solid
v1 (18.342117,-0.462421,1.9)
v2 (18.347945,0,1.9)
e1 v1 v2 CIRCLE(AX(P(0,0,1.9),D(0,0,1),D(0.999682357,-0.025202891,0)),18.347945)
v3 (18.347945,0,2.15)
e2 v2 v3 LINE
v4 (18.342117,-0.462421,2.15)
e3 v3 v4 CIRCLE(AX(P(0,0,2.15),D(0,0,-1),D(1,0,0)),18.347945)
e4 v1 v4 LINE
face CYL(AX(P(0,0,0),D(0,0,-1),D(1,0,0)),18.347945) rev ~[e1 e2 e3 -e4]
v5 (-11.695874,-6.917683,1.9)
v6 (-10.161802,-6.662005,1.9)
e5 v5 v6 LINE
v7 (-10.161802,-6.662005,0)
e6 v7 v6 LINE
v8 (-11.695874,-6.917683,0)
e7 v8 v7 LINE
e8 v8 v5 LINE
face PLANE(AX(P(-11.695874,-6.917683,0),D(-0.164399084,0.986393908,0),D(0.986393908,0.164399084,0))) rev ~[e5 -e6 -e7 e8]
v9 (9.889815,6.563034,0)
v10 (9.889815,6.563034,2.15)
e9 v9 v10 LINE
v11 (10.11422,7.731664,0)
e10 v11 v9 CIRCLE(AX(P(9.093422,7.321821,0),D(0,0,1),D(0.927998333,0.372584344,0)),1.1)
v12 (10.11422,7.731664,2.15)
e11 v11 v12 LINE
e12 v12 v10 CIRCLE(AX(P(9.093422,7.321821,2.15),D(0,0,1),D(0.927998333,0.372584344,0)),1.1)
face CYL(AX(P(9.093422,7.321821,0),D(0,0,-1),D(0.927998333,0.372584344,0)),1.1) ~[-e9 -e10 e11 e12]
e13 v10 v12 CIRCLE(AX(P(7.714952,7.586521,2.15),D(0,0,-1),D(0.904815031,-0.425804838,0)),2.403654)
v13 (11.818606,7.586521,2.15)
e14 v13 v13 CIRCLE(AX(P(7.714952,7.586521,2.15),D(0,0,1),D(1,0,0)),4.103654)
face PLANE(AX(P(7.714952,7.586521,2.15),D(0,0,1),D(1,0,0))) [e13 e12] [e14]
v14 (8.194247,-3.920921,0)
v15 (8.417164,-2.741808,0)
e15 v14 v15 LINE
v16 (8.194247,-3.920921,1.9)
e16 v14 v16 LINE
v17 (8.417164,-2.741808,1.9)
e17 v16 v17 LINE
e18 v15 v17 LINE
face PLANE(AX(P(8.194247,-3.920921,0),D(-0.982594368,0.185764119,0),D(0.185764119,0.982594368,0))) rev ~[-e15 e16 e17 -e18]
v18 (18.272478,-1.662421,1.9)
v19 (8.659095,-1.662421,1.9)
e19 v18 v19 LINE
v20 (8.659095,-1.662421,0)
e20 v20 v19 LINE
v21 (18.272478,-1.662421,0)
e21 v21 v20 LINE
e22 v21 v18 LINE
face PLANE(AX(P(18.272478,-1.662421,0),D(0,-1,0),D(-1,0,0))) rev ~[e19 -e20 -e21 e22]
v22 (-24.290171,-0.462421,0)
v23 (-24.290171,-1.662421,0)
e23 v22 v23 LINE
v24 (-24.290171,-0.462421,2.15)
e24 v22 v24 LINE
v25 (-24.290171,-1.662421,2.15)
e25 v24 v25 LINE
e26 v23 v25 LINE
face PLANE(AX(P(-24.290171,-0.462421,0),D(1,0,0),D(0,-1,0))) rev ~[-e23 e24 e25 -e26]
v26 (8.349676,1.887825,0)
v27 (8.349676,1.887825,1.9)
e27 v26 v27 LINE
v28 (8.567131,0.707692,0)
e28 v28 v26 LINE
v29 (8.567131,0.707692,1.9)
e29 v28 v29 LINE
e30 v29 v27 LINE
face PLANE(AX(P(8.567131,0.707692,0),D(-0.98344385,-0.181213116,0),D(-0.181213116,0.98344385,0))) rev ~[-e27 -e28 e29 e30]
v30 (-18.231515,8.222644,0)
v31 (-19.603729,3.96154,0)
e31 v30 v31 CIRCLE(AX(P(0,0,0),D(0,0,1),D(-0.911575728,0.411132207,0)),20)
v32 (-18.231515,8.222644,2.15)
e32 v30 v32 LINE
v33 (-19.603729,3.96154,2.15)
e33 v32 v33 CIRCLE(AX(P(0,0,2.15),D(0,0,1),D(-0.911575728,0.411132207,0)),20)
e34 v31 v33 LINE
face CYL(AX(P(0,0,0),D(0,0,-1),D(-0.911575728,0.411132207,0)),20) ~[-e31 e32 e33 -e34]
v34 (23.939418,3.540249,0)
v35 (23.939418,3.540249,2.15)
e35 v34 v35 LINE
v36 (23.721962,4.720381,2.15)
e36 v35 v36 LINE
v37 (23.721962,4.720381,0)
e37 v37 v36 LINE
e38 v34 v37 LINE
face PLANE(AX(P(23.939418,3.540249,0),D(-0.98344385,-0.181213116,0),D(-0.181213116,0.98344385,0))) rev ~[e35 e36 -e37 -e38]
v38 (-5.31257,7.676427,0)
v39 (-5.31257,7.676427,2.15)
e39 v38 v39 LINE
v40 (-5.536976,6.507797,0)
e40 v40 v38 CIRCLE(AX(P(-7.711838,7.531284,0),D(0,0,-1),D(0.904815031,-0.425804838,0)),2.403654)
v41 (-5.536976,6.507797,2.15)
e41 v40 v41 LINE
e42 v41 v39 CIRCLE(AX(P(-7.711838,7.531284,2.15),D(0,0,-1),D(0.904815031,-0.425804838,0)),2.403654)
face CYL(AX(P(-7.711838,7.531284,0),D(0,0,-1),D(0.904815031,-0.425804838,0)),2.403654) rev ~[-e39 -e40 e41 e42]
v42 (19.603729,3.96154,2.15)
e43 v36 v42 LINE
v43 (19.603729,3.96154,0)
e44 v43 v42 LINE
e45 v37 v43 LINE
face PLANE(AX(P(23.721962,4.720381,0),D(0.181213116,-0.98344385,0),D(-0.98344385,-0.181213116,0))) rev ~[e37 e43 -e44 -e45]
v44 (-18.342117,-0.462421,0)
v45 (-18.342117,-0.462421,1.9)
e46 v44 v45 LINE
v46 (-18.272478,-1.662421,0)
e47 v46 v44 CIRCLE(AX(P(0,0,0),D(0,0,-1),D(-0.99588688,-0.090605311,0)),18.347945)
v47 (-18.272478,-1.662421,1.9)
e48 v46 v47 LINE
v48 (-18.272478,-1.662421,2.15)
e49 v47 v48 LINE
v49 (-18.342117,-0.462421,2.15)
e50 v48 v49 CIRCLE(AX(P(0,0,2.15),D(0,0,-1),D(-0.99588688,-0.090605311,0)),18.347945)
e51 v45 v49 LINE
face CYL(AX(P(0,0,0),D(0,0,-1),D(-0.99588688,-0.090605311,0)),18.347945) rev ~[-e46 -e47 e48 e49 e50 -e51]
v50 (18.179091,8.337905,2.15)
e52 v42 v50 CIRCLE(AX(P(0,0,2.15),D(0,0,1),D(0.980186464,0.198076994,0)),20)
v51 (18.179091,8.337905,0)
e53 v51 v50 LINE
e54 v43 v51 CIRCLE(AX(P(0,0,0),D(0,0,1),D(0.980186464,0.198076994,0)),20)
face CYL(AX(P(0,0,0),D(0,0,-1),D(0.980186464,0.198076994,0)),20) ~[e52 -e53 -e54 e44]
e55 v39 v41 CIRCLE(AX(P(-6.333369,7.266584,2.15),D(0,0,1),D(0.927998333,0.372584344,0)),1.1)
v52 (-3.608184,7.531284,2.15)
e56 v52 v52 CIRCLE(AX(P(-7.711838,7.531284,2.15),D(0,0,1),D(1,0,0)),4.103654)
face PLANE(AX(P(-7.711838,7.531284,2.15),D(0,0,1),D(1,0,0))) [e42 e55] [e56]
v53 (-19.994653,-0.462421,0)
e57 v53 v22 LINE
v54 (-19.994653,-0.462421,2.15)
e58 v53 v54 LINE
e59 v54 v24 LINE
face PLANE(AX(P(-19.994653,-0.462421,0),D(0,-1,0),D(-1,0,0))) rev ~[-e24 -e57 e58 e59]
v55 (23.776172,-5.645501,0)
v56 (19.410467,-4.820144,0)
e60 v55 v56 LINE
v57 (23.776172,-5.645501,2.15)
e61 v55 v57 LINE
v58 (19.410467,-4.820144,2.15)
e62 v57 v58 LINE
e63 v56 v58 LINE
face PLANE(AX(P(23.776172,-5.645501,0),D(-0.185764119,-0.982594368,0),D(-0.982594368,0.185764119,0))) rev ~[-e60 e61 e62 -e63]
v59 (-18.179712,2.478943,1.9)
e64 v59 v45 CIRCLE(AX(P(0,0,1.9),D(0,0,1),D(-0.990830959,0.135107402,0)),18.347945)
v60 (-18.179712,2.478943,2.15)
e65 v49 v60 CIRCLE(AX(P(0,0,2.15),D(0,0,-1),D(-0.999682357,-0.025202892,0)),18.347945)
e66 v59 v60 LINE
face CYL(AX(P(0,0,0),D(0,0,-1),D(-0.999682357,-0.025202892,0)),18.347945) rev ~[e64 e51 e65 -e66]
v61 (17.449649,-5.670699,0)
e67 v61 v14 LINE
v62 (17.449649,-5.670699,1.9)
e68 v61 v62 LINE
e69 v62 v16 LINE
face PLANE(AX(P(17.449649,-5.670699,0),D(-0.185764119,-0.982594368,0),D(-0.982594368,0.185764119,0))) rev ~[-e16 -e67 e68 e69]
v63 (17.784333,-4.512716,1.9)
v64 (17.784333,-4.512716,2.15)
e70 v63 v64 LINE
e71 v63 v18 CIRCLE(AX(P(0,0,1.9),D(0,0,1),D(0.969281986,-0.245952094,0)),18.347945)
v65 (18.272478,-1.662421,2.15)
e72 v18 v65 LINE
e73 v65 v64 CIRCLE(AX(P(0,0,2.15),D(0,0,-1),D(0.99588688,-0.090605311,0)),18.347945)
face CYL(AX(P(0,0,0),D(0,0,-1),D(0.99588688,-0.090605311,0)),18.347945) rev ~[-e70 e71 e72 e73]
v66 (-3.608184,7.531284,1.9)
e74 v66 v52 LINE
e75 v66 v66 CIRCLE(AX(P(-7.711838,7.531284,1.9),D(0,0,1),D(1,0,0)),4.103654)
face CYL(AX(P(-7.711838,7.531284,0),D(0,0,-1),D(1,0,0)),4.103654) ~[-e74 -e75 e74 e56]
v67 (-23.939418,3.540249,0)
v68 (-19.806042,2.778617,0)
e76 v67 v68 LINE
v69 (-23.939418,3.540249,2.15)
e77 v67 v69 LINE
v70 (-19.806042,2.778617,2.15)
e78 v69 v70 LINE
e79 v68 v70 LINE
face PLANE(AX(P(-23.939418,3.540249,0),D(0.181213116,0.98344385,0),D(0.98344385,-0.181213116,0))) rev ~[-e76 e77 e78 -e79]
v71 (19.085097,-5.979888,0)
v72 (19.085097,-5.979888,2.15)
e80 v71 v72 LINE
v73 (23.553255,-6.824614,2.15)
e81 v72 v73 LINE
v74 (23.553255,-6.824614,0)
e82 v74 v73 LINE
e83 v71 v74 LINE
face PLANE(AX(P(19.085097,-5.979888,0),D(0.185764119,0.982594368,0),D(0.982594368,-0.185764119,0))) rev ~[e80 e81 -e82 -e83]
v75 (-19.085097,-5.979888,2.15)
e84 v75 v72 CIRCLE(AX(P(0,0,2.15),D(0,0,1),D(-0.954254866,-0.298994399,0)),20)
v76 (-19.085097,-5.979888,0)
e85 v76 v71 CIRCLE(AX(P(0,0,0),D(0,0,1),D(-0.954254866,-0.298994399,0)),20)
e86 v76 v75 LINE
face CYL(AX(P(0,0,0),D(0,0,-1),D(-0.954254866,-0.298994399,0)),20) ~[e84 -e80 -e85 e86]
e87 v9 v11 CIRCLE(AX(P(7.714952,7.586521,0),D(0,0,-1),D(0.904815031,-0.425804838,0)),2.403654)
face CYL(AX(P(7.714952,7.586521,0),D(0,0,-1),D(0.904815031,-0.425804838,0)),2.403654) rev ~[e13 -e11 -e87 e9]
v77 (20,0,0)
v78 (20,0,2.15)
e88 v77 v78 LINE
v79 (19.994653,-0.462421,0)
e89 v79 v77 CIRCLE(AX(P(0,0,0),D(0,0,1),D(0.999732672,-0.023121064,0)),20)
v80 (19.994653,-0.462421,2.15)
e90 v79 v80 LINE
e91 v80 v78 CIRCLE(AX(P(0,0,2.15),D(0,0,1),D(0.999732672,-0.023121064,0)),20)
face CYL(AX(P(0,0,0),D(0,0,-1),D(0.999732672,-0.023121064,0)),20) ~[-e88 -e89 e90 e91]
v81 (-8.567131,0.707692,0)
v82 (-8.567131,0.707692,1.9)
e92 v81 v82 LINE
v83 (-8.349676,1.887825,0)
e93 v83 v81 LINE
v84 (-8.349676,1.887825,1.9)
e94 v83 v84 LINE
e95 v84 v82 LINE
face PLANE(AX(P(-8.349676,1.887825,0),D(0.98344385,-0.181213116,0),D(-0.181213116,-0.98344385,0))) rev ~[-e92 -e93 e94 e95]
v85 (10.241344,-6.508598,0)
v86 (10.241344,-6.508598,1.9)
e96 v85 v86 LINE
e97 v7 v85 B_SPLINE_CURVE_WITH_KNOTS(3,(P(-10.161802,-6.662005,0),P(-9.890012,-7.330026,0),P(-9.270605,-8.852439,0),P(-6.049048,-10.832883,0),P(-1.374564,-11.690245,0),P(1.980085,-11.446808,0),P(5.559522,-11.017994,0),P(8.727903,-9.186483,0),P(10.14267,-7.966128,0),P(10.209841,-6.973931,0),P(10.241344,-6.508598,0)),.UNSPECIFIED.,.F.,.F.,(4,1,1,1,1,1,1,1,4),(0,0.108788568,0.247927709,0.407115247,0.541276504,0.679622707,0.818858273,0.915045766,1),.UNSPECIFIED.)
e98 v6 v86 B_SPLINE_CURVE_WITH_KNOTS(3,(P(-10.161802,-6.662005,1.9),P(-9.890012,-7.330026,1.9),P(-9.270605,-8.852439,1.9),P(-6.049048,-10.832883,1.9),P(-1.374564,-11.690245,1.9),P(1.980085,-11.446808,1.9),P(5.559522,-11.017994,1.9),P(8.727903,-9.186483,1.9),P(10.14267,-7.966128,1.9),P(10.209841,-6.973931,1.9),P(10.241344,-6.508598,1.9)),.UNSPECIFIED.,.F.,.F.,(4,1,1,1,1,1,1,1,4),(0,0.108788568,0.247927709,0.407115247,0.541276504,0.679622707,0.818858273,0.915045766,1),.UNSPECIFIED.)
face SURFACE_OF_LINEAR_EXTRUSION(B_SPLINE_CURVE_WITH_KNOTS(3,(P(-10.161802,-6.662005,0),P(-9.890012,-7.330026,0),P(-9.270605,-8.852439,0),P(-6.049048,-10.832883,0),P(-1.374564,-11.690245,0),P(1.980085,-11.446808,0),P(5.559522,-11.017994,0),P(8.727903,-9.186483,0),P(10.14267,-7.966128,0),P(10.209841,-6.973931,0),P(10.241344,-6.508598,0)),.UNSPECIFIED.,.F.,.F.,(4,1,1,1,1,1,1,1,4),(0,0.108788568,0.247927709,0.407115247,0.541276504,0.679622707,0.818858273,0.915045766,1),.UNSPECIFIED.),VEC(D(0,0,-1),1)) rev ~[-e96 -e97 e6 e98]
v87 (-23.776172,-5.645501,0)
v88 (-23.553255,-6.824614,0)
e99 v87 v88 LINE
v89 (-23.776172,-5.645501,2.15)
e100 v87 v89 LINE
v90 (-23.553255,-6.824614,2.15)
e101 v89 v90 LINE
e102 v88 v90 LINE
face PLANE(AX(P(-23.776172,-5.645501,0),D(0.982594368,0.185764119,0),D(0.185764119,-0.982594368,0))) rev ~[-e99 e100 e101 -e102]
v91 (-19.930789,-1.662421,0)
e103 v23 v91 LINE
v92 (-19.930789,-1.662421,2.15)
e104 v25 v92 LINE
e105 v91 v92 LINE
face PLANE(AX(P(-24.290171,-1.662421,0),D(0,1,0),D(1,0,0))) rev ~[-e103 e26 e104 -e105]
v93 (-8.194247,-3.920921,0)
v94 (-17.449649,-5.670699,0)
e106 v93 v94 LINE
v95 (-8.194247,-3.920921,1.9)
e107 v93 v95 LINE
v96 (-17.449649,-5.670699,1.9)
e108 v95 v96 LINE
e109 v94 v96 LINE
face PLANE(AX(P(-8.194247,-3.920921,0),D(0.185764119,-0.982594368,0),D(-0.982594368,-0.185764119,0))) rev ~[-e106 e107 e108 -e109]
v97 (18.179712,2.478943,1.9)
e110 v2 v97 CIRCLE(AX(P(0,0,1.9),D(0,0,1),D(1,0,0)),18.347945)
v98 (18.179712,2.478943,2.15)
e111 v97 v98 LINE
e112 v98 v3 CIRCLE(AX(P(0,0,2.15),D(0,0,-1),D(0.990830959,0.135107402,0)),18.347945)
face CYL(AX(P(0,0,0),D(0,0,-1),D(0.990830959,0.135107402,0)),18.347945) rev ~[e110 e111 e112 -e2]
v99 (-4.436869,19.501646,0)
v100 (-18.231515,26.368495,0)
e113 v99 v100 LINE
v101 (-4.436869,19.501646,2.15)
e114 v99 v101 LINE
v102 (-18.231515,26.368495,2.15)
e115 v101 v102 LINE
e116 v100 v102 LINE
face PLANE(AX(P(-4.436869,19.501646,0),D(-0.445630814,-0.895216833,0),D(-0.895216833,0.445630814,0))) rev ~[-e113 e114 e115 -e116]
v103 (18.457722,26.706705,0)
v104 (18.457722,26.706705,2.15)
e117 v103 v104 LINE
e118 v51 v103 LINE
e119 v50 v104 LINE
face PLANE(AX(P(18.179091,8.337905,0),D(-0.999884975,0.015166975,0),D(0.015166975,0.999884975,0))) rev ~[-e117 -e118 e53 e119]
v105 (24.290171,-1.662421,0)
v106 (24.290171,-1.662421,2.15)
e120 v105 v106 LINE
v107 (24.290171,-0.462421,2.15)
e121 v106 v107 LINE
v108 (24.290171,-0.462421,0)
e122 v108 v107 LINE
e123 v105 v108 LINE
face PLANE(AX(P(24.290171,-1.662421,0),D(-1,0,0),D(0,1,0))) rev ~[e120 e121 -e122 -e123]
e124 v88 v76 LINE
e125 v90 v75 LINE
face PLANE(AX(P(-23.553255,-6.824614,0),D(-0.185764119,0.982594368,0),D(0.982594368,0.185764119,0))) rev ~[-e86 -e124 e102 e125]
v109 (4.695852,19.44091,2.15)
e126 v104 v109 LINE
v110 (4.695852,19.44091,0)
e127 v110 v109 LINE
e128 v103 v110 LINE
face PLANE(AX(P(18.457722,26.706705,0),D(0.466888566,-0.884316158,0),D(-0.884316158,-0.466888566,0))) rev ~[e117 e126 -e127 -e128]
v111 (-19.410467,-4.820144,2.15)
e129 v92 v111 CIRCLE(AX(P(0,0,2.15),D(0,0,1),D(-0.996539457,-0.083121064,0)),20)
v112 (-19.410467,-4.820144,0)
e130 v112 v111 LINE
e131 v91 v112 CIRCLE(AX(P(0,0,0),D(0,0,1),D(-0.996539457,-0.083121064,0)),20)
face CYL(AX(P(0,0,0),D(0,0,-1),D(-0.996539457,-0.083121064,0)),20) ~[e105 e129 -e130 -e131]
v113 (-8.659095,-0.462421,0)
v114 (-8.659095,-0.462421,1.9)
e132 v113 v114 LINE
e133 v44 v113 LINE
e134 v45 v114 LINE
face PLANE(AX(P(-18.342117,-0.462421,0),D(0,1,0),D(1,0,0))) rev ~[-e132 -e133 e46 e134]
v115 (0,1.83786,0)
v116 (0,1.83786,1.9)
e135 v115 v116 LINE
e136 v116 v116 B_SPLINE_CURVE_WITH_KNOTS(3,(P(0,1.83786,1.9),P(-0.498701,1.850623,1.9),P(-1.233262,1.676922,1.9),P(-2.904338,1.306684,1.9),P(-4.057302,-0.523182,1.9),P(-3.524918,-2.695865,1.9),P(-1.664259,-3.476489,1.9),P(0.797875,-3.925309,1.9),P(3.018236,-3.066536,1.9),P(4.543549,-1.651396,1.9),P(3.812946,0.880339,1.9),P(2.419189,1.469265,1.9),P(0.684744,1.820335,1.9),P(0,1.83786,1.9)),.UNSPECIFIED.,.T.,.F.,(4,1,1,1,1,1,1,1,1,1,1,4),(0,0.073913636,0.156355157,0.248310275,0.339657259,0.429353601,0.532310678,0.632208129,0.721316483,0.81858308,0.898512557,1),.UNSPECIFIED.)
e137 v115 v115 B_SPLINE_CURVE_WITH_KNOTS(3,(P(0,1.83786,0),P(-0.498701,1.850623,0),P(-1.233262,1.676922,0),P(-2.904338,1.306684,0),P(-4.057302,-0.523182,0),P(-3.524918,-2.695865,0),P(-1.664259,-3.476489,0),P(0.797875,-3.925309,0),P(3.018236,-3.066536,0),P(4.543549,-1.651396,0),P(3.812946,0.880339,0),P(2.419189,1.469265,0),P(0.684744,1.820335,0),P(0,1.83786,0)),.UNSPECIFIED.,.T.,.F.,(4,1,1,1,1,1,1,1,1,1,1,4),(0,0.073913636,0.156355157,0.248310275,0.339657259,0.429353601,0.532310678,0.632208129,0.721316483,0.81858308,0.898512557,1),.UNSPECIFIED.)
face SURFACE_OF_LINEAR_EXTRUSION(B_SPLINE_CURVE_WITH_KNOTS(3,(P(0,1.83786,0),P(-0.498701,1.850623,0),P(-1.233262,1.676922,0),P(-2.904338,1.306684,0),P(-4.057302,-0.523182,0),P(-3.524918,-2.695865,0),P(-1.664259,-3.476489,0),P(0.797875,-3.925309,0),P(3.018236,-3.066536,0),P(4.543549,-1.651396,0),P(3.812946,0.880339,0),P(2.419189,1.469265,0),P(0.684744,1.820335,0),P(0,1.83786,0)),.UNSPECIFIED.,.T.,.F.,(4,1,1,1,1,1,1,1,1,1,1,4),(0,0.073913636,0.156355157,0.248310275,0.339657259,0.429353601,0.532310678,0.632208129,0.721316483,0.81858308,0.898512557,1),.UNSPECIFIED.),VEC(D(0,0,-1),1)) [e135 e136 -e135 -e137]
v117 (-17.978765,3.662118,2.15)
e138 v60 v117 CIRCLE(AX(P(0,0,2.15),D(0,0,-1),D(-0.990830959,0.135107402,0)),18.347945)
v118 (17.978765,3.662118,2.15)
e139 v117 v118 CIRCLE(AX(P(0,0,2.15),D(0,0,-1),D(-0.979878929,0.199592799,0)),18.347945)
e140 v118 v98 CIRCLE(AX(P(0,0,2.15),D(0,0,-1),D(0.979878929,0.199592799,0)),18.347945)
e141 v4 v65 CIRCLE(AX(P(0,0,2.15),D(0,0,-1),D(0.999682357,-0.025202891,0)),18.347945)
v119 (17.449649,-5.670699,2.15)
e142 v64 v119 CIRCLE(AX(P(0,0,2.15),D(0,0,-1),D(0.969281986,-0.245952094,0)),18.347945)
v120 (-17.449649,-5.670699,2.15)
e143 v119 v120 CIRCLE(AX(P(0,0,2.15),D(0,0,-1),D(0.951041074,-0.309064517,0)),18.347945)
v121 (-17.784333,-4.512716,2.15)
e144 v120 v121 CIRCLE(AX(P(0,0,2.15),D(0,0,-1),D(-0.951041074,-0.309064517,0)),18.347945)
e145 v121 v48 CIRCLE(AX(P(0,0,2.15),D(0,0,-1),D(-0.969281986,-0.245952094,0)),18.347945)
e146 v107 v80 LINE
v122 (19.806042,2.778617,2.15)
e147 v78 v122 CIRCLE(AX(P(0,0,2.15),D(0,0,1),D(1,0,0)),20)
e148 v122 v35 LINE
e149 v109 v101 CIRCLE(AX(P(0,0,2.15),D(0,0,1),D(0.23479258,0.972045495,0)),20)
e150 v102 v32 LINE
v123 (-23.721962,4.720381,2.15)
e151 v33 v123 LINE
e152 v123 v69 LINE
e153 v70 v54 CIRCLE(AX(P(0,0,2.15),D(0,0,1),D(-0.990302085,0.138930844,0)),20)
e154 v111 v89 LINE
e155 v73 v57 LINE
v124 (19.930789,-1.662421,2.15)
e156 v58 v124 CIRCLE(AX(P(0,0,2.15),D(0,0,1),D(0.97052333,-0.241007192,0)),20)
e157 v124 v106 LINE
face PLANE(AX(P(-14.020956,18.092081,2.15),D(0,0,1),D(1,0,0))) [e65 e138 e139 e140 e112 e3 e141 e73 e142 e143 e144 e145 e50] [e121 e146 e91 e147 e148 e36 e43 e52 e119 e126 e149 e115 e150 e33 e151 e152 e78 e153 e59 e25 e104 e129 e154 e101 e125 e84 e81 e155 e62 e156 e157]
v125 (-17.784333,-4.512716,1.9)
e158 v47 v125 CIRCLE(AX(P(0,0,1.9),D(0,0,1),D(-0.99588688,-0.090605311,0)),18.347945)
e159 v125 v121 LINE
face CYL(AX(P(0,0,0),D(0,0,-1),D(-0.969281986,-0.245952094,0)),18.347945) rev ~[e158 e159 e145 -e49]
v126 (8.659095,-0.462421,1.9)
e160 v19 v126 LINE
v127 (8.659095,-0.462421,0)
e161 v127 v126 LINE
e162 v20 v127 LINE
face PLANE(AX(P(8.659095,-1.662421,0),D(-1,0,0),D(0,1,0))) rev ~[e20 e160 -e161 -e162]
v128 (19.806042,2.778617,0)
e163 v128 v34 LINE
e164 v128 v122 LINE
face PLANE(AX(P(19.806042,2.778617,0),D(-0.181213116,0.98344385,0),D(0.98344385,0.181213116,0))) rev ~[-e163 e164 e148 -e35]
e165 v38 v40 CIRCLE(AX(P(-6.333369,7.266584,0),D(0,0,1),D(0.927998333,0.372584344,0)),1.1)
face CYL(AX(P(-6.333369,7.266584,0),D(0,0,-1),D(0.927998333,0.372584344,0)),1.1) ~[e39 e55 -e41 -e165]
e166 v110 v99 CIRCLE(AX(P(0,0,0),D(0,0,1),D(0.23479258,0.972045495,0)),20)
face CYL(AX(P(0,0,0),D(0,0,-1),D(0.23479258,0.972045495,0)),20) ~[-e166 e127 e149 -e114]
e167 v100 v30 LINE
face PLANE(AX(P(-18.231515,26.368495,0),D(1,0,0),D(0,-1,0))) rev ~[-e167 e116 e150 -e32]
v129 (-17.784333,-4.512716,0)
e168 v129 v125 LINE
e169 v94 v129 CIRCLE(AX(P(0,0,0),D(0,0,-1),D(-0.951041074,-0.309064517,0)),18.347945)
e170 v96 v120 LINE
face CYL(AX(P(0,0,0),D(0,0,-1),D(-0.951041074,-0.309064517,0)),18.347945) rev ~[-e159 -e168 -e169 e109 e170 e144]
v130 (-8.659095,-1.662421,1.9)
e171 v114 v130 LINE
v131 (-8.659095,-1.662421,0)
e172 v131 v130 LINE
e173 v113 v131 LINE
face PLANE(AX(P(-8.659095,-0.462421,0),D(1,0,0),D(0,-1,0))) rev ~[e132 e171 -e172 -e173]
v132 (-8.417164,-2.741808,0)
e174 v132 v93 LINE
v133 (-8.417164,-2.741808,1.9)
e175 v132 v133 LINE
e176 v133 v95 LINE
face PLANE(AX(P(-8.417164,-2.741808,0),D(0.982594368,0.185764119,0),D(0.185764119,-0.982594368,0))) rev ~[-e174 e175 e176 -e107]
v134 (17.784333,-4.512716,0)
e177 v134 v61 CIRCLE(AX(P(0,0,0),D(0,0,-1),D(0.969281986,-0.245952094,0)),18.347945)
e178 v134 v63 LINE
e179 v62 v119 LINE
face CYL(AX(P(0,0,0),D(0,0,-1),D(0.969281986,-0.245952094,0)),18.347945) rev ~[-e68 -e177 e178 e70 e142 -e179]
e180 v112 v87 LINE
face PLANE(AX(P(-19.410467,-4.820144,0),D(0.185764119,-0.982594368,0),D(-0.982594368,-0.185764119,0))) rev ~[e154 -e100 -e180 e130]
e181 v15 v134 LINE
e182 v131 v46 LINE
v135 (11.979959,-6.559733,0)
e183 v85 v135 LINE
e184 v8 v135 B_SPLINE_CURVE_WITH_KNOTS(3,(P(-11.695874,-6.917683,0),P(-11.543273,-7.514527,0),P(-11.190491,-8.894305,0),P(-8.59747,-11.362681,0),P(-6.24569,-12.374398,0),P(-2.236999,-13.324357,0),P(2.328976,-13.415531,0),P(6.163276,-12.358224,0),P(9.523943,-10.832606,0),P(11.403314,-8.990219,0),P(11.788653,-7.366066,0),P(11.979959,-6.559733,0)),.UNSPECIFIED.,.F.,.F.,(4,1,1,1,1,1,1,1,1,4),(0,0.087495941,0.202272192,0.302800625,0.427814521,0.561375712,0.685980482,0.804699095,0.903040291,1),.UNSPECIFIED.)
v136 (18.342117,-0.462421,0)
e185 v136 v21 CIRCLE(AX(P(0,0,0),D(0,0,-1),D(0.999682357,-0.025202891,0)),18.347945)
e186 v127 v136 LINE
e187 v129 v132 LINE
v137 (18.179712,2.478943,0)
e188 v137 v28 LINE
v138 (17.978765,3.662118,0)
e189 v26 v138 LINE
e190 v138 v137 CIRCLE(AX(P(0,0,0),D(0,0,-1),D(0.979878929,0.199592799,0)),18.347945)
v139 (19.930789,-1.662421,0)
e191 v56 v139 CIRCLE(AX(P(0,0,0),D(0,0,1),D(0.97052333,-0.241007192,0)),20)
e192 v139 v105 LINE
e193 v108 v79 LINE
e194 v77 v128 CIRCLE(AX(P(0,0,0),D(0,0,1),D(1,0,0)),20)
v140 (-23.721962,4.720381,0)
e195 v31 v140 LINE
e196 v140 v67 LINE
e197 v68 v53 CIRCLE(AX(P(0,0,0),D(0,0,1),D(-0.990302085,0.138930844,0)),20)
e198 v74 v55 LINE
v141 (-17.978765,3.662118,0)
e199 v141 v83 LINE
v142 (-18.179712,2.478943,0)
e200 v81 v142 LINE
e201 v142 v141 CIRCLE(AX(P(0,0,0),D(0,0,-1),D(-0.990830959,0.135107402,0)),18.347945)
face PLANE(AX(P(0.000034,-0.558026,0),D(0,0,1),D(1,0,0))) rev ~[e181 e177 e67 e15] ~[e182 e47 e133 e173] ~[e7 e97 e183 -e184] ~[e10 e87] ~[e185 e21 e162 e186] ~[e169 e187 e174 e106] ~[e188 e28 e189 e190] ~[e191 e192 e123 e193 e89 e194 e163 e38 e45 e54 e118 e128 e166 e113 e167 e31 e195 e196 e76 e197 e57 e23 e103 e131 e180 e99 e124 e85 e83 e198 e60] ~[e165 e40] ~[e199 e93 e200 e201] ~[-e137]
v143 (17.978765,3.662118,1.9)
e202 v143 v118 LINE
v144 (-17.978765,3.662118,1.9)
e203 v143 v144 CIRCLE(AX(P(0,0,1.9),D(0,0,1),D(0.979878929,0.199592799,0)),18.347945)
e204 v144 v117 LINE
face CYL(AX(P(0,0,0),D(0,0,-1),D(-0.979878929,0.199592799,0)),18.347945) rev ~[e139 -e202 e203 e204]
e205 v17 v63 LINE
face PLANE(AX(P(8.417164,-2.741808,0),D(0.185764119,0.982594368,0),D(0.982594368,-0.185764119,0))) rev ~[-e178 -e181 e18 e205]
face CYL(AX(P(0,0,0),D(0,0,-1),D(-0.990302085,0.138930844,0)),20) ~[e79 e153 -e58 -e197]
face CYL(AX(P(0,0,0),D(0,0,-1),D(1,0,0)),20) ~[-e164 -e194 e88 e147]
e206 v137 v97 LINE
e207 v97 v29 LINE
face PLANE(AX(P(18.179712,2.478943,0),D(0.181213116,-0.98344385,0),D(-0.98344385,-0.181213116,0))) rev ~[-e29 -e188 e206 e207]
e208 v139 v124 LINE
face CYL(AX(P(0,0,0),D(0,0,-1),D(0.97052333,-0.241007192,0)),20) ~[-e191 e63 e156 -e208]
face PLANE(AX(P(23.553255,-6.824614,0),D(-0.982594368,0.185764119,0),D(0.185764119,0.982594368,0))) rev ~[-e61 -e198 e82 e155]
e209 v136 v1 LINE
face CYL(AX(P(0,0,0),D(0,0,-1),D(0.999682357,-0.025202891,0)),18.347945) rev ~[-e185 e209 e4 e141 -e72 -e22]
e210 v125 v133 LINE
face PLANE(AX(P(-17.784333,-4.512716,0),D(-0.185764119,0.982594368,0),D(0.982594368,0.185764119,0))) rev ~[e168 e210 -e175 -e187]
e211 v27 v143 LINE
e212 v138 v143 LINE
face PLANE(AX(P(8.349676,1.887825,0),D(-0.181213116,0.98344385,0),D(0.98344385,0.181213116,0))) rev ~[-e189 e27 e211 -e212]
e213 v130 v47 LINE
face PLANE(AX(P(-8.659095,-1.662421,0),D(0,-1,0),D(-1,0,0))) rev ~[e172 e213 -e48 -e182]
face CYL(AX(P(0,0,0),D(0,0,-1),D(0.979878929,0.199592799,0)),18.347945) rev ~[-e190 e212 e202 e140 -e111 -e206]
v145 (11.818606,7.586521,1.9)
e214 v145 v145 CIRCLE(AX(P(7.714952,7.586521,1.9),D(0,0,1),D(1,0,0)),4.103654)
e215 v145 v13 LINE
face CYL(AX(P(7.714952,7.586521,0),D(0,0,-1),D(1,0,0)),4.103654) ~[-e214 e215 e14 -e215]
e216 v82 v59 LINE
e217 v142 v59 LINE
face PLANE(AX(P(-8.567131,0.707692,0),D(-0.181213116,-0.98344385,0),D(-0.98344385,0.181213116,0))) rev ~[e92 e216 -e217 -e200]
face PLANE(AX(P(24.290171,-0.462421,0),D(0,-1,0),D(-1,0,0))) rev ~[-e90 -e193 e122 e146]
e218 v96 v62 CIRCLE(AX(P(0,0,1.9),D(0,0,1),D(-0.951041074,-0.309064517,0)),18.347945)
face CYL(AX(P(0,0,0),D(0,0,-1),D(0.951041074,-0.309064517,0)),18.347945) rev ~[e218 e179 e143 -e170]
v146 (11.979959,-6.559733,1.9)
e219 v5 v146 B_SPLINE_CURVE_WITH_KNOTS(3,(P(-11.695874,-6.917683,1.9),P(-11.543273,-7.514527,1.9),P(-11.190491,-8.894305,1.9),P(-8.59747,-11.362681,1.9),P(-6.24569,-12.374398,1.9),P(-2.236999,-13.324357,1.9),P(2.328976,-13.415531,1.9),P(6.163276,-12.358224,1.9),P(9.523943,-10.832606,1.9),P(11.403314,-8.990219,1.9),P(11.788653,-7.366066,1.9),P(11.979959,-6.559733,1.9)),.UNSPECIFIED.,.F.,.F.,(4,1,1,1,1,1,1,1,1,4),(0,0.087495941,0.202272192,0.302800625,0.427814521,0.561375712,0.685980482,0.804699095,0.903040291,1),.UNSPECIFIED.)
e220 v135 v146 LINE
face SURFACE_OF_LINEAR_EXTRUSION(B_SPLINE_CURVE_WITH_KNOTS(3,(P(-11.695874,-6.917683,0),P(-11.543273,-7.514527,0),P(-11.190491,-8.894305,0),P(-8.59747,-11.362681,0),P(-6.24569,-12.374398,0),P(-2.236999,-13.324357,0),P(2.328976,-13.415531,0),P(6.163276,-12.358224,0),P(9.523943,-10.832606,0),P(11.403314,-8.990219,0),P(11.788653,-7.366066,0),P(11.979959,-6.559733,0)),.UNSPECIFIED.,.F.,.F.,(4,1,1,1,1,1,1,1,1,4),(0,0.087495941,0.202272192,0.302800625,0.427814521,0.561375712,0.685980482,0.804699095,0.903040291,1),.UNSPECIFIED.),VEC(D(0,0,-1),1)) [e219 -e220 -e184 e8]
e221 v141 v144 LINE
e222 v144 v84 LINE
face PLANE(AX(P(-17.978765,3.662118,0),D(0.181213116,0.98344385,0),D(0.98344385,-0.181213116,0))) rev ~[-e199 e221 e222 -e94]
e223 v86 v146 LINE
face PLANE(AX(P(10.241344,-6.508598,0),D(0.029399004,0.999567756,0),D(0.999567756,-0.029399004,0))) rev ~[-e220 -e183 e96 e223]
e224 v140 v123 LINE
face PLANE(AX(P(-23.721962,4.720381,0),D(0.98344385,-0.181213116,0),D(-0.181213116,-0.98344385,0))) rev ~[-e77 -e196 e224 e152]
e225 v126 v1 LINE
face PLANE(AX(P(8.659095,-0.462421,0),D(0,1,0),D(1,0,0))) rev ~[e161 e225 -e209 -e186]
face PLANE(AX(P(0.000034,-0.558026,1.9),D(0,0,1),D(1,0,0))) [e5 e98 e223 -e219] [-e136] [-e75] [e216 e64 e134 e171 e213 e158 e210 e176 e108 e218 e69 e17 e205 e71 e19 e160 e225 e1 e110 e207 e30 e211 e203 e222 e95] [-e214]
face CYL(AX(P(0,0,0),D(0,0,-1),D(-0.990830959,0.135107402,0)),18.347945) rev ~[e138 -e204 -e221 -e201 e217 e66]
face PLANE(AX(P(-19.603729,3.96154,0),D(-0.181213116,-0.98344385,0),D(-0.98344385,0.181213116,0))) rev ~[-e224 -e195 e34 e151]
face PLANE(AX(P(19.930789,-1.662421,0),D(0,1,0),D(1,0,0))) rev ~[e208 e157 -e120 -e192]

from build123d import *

# Parameters (mm, degrees)
F1_DEPTH = 2.15
F0_R     = 4.1036540216
F2_DEPTH = 1.9


with BuildPart() as f1:
    # F0 (on Top) → F1 (new body)
    with BuildSketch(Plane.XY):
        with BuildLine():
            ThreePointArc((-18.2315145686, 8.2226441328), (-12.65969487, 15.4832853684), (-4.4368690482, 19.5016459062))
            Line((-4.4368690482, 19.5016459062), (-18.2315145686, 26.3684952472))
            Line((-18.2315145686, 26.3684952472), (-18.2315145686, 8.2226441328))
        make_face()
        with BuildLine():
            ThreePointArc((19.6037292835, 3.9615398747), (19.0177158249, 6.1908387802), (18.179090742, 8.3379050004))
            ThreePointArc((18.179090742, 8.3379050004), (12.7135725246, 15.439076192), (4.6958516098, 19.4409098979))
            ThreePointArc((4.6958516098, 19.4409098979), (0.1330045393, 19.9995577399), (-4.4368690482, 19.5016459062))
            ThreePointArc((-4.4368690482, 19.5016459062), (-12.65969487, 15.4832853684), (-18.2315145686, 8.2226441328))
            ThreePointArc((-18.2315145686, 8.2226441328), (-19.0372180665, 6.1306058663), (-19.6037292835, 3.9615398747))
            Line((-19.6037292835, 3.9615398747), (-17.978764876, 3.6621177333))
            ThreePointArc((-17.978764876, 3.6621177333), (0, 18.3479451917), (17.978764876, 3.6621177333))
            Line((17.978764876, 3.6621177333), (19.6037292835, 3.9615398747))
        make_face()
        with BuildLine():
            ThreePointArc((4.6958516098, 19.4409098979), (12.7135725246, 15.439076192), (18.179090742, 8.3379050004))
            Line((18.179090742, 8.3379050004), (18.4577219188, 26.7067048699))
            Line((18.4577219188, 26.7067048699), (4.6958516098, 19.4409098979))
        make_face()
        with BuildLine():
            ThreePointArc((-18.3421170895, -0.4624212731), (-18.3200411776, 1.0115255856), (-18.1797121369, 2.4789431978))
            Line((-18.1797121369, 2.4789431978), (-19.8060417091, 2.7786168896))
            ThreePointArc((-19.8060417091, 2.7786168896), (-19.9662193685, 1.1619312074), (-19.9946534495, -0.4624212731))
            Line((-19.9946534495, -0.4624212731), (-18.3421170895, -0.4624212731))
        make_face()
        with BuildLine():
            ThreePointArc((-19.8060417091, 2.7786168896), (-19.7137601466, 3.3715961919), (-19.6037292835, 3.9615398747))
            Line((-19.6037292835, 3.9615398747), (-23.7219620696, 4.72038116))
            Line((-23.7219620696, 4.72038116), (-23.9394178087, 3.5402485397))
            Line((-23.9394178087, 3.5402485397), (-19.8060417091, 2.7786168896))
        make_face()
        with BuildLine():
            ThreePointArc((-18.1797121369, 2.4789431978), (-18.0889148505, 3.0721738704), (-17.978764876, 3.6621177333))
            Line((-17.978764876, 3.6621177333), (-19.6037292835, 3.9615398747))
            ThreePointArc((-19.6037292835, 3.9615398747), (-19.7137601466, 3.3715961919), (-19.8060417091, 2.7786168896))
            Line((-19.8060417091, 2.7786168896), (-18.1797121369, 2.4789431978))
        make_face()
        with BuildLine():
            ThreePointArc((-18.2724778908, -1.6624212731), (-18.3171269962, -1.0629917055), (-18.3421170895, -0.4624212731))
            Line((-18.3421170895, -0.4624212731), (-19.9946534495, -0.4624212731))
            ThreePointArc((-19.9946534495, -0.4624212731), (-19.9717360631, -1.0629010416), (-19.9307891342, -1.6624212731))
            Line((-19.9307891342, -1.6624212731), (-18.2724778908, -1.6624212731))
        make_face()
        with BuildLine():
            ThreePointArc((-19.9307891342, -1.6624212731), (-19.9717360631, -1.0629010416), (-19.9946534495, -0.4624212731))
            Line((-19.9946534495, -0.4624212731), (-24.2901714519, -0.4624212731))
            Line((-24.2901714519, -0.4624212731), (-24.2901714519, -1.6624212731))
            Line((-24.2901714519, -1.6624212731), (-19.9307891342, -1.6624212731))
        make_face()
        with BuildLine():
            ThreePointArc((-19.0850973204, -5.9798879815), (-19.2565147907, -5.4024659293), (-19.4104665936, -4.8201438381))
            Line((-19.4104665936, -4.8201438381), (-23.7761723296, -5.645501185))
            Line((-23.7761723296, -5.645501185), (-23.5532553866, -6.8246144266))
            Line((-23.5532553866, -6.8246144266), (-19.0850973204, -5.9798879815))
        make_face()
        with BuildLine():
            ThreePointArc((-17.4496494979, -5.6706988246), (-17.6265029869, -5.0944563215), (-17.7843327477, -4.5127155326))
            Line((-17.7843327477, -4.5127155326), (-19.4104665936, -4.8201438381))
            ThreePointArc((-19.4104665936, -4.8201438381), (-19.2565147907, -5.4024659293), (-19.0850973204, -5.9798879815))
            Line((-19.0850973204, -5.9798879815), (-17.4496494979, -5.6706988246))
        make_face()
        with BuildLine():
            ThreePointArc((-17.7843327477, -4.5127155326), (-18.0846466014, -3.0972003588), (-18.2724778908, -1.6624212731))
            Line((-18.2724778908, -1.6624212731), (-19.9307891342, -1.6624212731))
            ThreePointArc((-19.9307891342, -1.6624212731), (-19.7338897207, -3.2517067044), (-19.4104665936, -4.8201438381))
            Line((-19.4104665936, -4.8201438381), (-17.7843327477, -4.5127155326))
        make_face()
        with BuildLine():
            ThreePointArc((-19.0850973204, -5.9798879815), (0, -20), (19.0850973204, -5.9798879815))
            Line((19.0850973204, -5.9798879815), (17.4496494979, -5.6706988246))
            ThreePointArc((17.4496494979, -5.6706988246), (0, -18.3479451917), (-17.4496494979, -5.6706988246))
            Line((-17.4496494979, -5.6706988246), (-19.0850973204, -5.9798879815))
        make_face()
        with BuildLine():
            ThreePointArc((19.4104665936, -4.8201438381), (19.7338897207, -3.2517067044), (19.9307891342, -1.6624212731))
            Line((19.9307891342, -1.6624212731), (18.2724778908, -1.6624212731))
            ThreePointArc((18.2724778908, -1.6624212731), (18.0846466014, -3.0972003588), (17.7843327477, -4.5127155326))
            Line((17.7843327477, -4.5127155326), (19.4104665936, -4.8201438381))
        make_face()
        with BuildLine():
            ThreePointArc((19.0850973204, -5.9798879815), (19.2565147907, -5.4024659293), (19.4104665936, -4.8201438381))
            Line((19.4104665936, -4.8201438381), (17.7843327477, -4.5127155326))
            ThreePointArc((17.7843327477, -4.5127155326), (17.6265029869, -5.0944563215), (17.4496494979, -5.6706988246))
            Line((17.4496494979, -5.6706988246), (19.0850973204, -5.9798879815))
        make_face()
        with BuildLine():
            Line((23.7761723296, -5.645501185), (19.4104665936, -4.8201438381))
            ThreePointArc((19.4104665936, -4.8201438381), (19.2565147907, -5.4024659293), (19.0850973204, -5.9798879815))
            Line((19.0850973204, -5.9798879815), (23.5532553866, -6.8246144266))
            Line((23.5532553866, -6.8246144266), (23.7761723296, -5.645501185))
        make_face()
        with BuildLine():
            Line((24.2901714519, -0.4624212731), (19.9946534495, -0.4624212731))
            ThreePointArc((19.9946534495, -0.4624212731), (19.9717360631, -1.0629010416), (19.9307891342, -1.6624212731))
            Line((19.9307891342, -1.6624212731), (24.2901714519, -1.6624212731))
            Line((24.2901714519, -1.6624212731), (24.2901714519, -0.4624212731))
        make_face()
        with BuildLine():
            ThreePointArc((19.9307891342, -1.6624212731), (19.9717360631, -1.0629010416), (19.9946534495, -0.4624212731))
            Line((19.9946534495, -0.4624212731), (18.3421170895, -0.4624212731))
            ThreePointArc((18.3421170895, -0.4624212731), (18.3171269962, -1.0629917055), (18.2724778908, -1.6624212731))
            Line((18.2724778908, -1.6624212731), (19.9307891342, -1.6624212731))
        make_face()
        with BuildLine():
            ThreePointArc((20, 0), (19.9514515033, 1.3926890929), (19.8060417091, 2.7786168896))
            Line((19.8060417091, 2.7786168896), (18.1797121369, 2.4789431978))
            ThreePointArc((18.1797121369, 2.4789431978), (18.305838613, 1.2423225969), (18.3479451917, 0))
            ThreePointArc((18.3479451917, 0), (18.3464881083, -0.2312289993), (18.3421170895, -0.4624212731))
            Line((18.3421170895, -0.4624212731), (19.9946534495, -0.4624212731))
            ThreePointArc((19.9946534495, -0.4624212731), (19.9986633177, -0.2312260903), (20, 0))
        make_face()
        with BuildLine():
            Line((23.7219620696, 4.72038116), (19.6037292835, 3.9615398747))
            ThreePointArc((19.6037292835, 3.9615398747), (19.7137601466, 3.3715961919), (19.8060417091, 2.7786168896))
            Line((19.8060417091, 2.7786168896), (23.9394178087, 3.5402485397))
            Line((23.9394178087, 3.5402485397), (23.7219620696, 4.72038116))
        make_face()
        with BuildLine():
            ThreePointArc((19.8060417091, 2.7786168896), (19.7137601466, 3.3715961919), (19.6037292835, 3.9615398747))
            Line((19.6037292835, 3.9615398747), (17.978764876, 3.6621177333))
            ThreePointArc((17.978764876, 3.6621177333), (18.0889148505, 3.0721738704), (18.1797121369, 2.4789431978))
            Line((18.1797121369, 2.4789431978), (19.8060417091, 2.7786168896))
        make_face()
    extrude(amount=F1_DEPTH)


with BuildPart() as f1b:
    # F0 (on Top) → F1, piece 2 (new body)
    with BuildSketch(Plane.XY):
        with Locations((-7.7118381825, 7.5312841645)):
            Circle(F0_R)
        with BuildLine():
            ThreePointArc((-5.5369759371, 6.5077966729), (-10.0723658161, 7.9845630229), (-5.3125703898, 7.6764271657))
            ThreePointArc((-5.3125703898, 7.6764271657), (-5.253350505, 7.4752971286), (-5.2333685565, 7.2665843875))
            ThreePointArc((-5.2333685565, 7.2665843875), (-5.3120870377, 6.8579475569), (-5.5369759371, 6.5077966729))
        make_face(mode=Mode.SUBTRACT)
        with BuildLine():
            ThreePointArc((-5.5369759371, 6.5077966729), (-5.3660793806, 7.0069101804), (-5.3081842074, 7.5312841645))
            ThreePointArc((-5.3081842074, 7.5312841645), (-5.3092810033, 7.6038887948), (-5.3125703898, 7.6764271657))
            ThreePointArc((-5.3125703898, 7.6764271657), (-7.4136323648, 7.4740213769), (-5.5369759371, 6.5077966729))
        make_face()
        with BuildLine():
            ThreePointArc((-5.3125703898, 7.6764271657), (-5.3092810033, 7.6038887948), (-5.3081842074, 7.5312841645))
            ThreePointArc((-5.3081842074, 7.5312841645), (-5.3660793806, 7.0069101804), (-5.5369759371, 6.5077966729))
            ThreePointArc((-5.5369759371, 6.5077966729), (-5.3120870377, 6.8579475569), (-5.2333685565, 7.2665843875))
            ThreePointArc((-5.2333685565, 7.2665843875), (-5.253350505, 7.4752971286), (-5.3125703898, 7.6764271657))
        make_face()
    extrude(amount=F1_DEPTH)


with BuildPart() as f1c:
    # F0 (on Top) → F1, piece 3 (new body)
    with BuildSketch(Plane.XY):
        with Locations((7.7149522848, 7.5865211994)):
            Circle(F0_R)
        with BuildLine():
            ThreePointArc((9.8898145302, 6.5630337078), (5.3544246513, 8.0398000578), (10.1142200775, 7.7316642005))
            ThreePointArc((10.1142200775, 7.7316642005), (10.1734399624, 7.5305341635), (10.1934219108, 7.3218214224))
            ThreePointArc((10.1934219108, 7.3218214224), (10.1147034296, 6.9131845918), (9.8898145302, 6.5630337078))
        make_face(mode=Mode.SUBTRACT)
        with BuildLine():
            ThreePointArc((9.8898145302, 6.5630337078), (10.0607110867, 7.0621472153), (10.1186062599, 7.5865211994))
            ThreePointArc((10.1186062599, 7.5865211994), (10.1175094641, 7.6591258297), (10.1142200775, 7.7316642005))
            ThreePointArc((10.1142200775, 7.7316642005), (8.0131581026, 7.5292584118), (9.8898145302, 6.5630337078))
        make_face()
        with BuildLine():
            ThreePointArc((10.1142200775, 7.7316642005), (10.1175094641, 7.6591258297), (10.1186062599, 7.5865211994))
            ThreePointArc((10.1186062599, 7.5865211994), (10.0607110867, 7.0621472153), (9.8898145302, 6.5630337078))
            ThreePointArc((9.8898145302, 6.5630337078), (10.1147034296, 6.9131845918), (10.1934219108, 7.3218214224))
            ThreePointArc((10.1934219108, 7.3218214224), (10.1734399624, 7.5305341635), (10.1142200775, 7.7316642005))
        make_face()
    extrude(amount=F1_DEPTH)


with BuildPart() as f2:
    # F0 (on Top) → F2 (new body)
    with BuildSketch(Plane.XY):
        with BuildLine():
            Line((8.3496756393, 1.887825013), (17.978764876, 3.6621177333))
            ThreePointArc((17.978764876, 3.6621177333), (0, 18.3479451917), (-17.978764876, 3.6621177333))
            Line((-17.978764876, 3.6621177333), (-8.3496756393, 1.887825013))
            Line((-8.3496756393, 1.887825013), (-8.5671313784, 0.7076923927))
            Line((-8.5671313784, 0.7076923927), (-18.1797121369, 2.4789431978))
            ThreePointArc((-18.1797121369, 2.4789431978), (-18.3200411776, 1.0115255856), (-18.3421170895, -0.4624212731))
            Line((-18.3421170895, -0.4624212731), (-8.6590945721, -0.4624212731))
            Line((-8.6590945721, -0.4624212731), (-8.6590945721, -1.6624212731))
            Line((-8.6590945721, -1.6624212731), (-18.2724778908, -1.6624212731))
            ThreePointArc((-18.2724778908, -1.6624212731), (-18.0846466014, -3.0972003588), (-17.7843327477, -4.5127155326))
            Line((-17.7843327477, -4.5127155326), (-8.4171642217, -2.7418079567))
            Line((-8.4171642217, -2.7418079567), (-8.1942472787, -3.9209211983))
            Line((-8.1942472787, -3.9209211983), (-17.4496494979, -5.6706988246))
            ThreePointArc((-17.4496494979, -5.6706988246), (0, -18.3479451917), (17.4496494979, -5.6706988246))
            Line((17.4496494979, -5.6706988246), (8.1942472787, -3.9209211983))
            Line((8.1942472787, -3.9209211983), (8.4171642217, -2.7418079567))
            Line((8.4171642217, -2.7418079567), (17.7843327477, -4.5127155326))
            ThreePointArc((17.7843327477, -4.5127155326), (18.0846466014, -3.0972003588), (18.2724778908, -1.6624212731))
            Line((18.2724778908, -1.6624212731), (8.6590945721, -1.6624212731))
            Line((8.6590945721, -1.6624212731), (8.6590945721, -0.4624212731))
            Line((8.6590945721, -0.4624212731), (18.3421170895, -0.4624212731))
            ThreePointArc((18.3421170895, -0.4624212731), (18.3464881083, -0.2312289993), (18.3479451917, 0))
            ThreePointArc((18.3479451917, 0), (18.305838613, 1.2423225969), (18.1797121369, 2.4789431978))
            Line((18.1797121369, 2.4789431978), (8.5671313784, 0.7076923927))
            Line((8.5671313784, 0.7076923927), (8.3496756393, 1.887825013))
        make_face()
        with BuildLine():
            Line((-11.6958739236, -6.9176834077), (-10.1618021727, -6.6620046273))
            add(Edge.make_bspline(
                [(-10.1618021727, -6.6620046273), (-9.8900116773, -7.3300264218), (-9.2706047281, -8.8524392682), (-6.0490483327, -10.8328828476), (-1.3745638516, -11.690245176), (1.9800848773, -11.4468079335), (5.5595215389, -11.0179939412), (8.7279029447, -9.1864827043), (10.1426697727, -7.9661276659), (10.2098408587, -6.9739310726), (10.2413436398, -6.5085976385)],
                knots=[0, 0, 0, 0, 0.1087885677, 0.2479277089, 0.4071152467, 0.5412765042, 0.6796227072, 0.8188582734, 0.9150457659, 1, 1, 1, 1], degree=3))
            Line((10.2413436398, -6.5085976385), (11.9799589738, -6.5597333014))
            add(Edge.make_bspline(
                [(-11.6958739236, -6.9176834077), (-11.5432726645, -7.5145274134), (-11.1904906877, -8.894305074), (-8.5974695498, -11.3626813298), (-6.2456902452, -12.3743976683), (-2.2369994203, -13.3243571631), (2.3289760904, -13.4155306098), (6.1632762213, -12.3582244459), (9.5239431845, -10.8326055627), (11.4033144172, -8.9902188317), (11.7886527022, -7.3660655901), (11.9799589738, -6.5597333014)],
                knots=[0, 0, 0, 0, 0.0874959413, 0.2022721917, 0.3028006249, 0.4278145213, 0.5613757119, 0.6859804824, 0.804699095, 0.903040291, 1, 1, 1, 1], degree=3))
        make_face(mode=Mode.SUBTRACT)
        with BuildLine():
            add(Edge.make_bspline(
                [(0, 1.8378595123), (-0.4987013095, 1.8506227906), (-1.2332615441, 1.6769219671), (-2.904337988, 1.306683963), (-4.0573022018, -0.5231820909), (-3.5249184784, -2.6958648787), (-1.6642591529, -3.4764890484), (0.7978749827, -3.9253086049), (3.0182361275, -3.0665363229), (4.543548882, -1.6513964591), (3.8129464246, 0.880339001), (2.4191893632, 1.4692653954), (0.6847440305, 1.8203348367), (0, 1.8378595123)],
                knots=[0, 0, 0, 0, 0.0739136356, 0.1563551567, 0.2483102745, 0.3396572591, 0.4293536009, 0.5323106777, 0.6322081288, 0.7213164828, 0.8185830799, 0.898512557, 1, 1, 1, 1], degree=3))
        make_face(mode=Mode.SUBTRACT)
        with Locations((-7.7118381825, 7.5312841645)):
            Circle(F0_R, mode=Mode.SUBTRACT)
        with Locations((7.7149522848, 7.5865211994)):
            Circle(F0_R, mode=Mode.SUBTRACT)
    extrude(amount=F2_DEPTH)


with BuildPart() as f1b_1:
    add(f1b.part)

    # F3: union F1, F1c, F2
    add(f1.part)
    add(f1c.part)
    add(f2.part)


solid = f1b_1.part
